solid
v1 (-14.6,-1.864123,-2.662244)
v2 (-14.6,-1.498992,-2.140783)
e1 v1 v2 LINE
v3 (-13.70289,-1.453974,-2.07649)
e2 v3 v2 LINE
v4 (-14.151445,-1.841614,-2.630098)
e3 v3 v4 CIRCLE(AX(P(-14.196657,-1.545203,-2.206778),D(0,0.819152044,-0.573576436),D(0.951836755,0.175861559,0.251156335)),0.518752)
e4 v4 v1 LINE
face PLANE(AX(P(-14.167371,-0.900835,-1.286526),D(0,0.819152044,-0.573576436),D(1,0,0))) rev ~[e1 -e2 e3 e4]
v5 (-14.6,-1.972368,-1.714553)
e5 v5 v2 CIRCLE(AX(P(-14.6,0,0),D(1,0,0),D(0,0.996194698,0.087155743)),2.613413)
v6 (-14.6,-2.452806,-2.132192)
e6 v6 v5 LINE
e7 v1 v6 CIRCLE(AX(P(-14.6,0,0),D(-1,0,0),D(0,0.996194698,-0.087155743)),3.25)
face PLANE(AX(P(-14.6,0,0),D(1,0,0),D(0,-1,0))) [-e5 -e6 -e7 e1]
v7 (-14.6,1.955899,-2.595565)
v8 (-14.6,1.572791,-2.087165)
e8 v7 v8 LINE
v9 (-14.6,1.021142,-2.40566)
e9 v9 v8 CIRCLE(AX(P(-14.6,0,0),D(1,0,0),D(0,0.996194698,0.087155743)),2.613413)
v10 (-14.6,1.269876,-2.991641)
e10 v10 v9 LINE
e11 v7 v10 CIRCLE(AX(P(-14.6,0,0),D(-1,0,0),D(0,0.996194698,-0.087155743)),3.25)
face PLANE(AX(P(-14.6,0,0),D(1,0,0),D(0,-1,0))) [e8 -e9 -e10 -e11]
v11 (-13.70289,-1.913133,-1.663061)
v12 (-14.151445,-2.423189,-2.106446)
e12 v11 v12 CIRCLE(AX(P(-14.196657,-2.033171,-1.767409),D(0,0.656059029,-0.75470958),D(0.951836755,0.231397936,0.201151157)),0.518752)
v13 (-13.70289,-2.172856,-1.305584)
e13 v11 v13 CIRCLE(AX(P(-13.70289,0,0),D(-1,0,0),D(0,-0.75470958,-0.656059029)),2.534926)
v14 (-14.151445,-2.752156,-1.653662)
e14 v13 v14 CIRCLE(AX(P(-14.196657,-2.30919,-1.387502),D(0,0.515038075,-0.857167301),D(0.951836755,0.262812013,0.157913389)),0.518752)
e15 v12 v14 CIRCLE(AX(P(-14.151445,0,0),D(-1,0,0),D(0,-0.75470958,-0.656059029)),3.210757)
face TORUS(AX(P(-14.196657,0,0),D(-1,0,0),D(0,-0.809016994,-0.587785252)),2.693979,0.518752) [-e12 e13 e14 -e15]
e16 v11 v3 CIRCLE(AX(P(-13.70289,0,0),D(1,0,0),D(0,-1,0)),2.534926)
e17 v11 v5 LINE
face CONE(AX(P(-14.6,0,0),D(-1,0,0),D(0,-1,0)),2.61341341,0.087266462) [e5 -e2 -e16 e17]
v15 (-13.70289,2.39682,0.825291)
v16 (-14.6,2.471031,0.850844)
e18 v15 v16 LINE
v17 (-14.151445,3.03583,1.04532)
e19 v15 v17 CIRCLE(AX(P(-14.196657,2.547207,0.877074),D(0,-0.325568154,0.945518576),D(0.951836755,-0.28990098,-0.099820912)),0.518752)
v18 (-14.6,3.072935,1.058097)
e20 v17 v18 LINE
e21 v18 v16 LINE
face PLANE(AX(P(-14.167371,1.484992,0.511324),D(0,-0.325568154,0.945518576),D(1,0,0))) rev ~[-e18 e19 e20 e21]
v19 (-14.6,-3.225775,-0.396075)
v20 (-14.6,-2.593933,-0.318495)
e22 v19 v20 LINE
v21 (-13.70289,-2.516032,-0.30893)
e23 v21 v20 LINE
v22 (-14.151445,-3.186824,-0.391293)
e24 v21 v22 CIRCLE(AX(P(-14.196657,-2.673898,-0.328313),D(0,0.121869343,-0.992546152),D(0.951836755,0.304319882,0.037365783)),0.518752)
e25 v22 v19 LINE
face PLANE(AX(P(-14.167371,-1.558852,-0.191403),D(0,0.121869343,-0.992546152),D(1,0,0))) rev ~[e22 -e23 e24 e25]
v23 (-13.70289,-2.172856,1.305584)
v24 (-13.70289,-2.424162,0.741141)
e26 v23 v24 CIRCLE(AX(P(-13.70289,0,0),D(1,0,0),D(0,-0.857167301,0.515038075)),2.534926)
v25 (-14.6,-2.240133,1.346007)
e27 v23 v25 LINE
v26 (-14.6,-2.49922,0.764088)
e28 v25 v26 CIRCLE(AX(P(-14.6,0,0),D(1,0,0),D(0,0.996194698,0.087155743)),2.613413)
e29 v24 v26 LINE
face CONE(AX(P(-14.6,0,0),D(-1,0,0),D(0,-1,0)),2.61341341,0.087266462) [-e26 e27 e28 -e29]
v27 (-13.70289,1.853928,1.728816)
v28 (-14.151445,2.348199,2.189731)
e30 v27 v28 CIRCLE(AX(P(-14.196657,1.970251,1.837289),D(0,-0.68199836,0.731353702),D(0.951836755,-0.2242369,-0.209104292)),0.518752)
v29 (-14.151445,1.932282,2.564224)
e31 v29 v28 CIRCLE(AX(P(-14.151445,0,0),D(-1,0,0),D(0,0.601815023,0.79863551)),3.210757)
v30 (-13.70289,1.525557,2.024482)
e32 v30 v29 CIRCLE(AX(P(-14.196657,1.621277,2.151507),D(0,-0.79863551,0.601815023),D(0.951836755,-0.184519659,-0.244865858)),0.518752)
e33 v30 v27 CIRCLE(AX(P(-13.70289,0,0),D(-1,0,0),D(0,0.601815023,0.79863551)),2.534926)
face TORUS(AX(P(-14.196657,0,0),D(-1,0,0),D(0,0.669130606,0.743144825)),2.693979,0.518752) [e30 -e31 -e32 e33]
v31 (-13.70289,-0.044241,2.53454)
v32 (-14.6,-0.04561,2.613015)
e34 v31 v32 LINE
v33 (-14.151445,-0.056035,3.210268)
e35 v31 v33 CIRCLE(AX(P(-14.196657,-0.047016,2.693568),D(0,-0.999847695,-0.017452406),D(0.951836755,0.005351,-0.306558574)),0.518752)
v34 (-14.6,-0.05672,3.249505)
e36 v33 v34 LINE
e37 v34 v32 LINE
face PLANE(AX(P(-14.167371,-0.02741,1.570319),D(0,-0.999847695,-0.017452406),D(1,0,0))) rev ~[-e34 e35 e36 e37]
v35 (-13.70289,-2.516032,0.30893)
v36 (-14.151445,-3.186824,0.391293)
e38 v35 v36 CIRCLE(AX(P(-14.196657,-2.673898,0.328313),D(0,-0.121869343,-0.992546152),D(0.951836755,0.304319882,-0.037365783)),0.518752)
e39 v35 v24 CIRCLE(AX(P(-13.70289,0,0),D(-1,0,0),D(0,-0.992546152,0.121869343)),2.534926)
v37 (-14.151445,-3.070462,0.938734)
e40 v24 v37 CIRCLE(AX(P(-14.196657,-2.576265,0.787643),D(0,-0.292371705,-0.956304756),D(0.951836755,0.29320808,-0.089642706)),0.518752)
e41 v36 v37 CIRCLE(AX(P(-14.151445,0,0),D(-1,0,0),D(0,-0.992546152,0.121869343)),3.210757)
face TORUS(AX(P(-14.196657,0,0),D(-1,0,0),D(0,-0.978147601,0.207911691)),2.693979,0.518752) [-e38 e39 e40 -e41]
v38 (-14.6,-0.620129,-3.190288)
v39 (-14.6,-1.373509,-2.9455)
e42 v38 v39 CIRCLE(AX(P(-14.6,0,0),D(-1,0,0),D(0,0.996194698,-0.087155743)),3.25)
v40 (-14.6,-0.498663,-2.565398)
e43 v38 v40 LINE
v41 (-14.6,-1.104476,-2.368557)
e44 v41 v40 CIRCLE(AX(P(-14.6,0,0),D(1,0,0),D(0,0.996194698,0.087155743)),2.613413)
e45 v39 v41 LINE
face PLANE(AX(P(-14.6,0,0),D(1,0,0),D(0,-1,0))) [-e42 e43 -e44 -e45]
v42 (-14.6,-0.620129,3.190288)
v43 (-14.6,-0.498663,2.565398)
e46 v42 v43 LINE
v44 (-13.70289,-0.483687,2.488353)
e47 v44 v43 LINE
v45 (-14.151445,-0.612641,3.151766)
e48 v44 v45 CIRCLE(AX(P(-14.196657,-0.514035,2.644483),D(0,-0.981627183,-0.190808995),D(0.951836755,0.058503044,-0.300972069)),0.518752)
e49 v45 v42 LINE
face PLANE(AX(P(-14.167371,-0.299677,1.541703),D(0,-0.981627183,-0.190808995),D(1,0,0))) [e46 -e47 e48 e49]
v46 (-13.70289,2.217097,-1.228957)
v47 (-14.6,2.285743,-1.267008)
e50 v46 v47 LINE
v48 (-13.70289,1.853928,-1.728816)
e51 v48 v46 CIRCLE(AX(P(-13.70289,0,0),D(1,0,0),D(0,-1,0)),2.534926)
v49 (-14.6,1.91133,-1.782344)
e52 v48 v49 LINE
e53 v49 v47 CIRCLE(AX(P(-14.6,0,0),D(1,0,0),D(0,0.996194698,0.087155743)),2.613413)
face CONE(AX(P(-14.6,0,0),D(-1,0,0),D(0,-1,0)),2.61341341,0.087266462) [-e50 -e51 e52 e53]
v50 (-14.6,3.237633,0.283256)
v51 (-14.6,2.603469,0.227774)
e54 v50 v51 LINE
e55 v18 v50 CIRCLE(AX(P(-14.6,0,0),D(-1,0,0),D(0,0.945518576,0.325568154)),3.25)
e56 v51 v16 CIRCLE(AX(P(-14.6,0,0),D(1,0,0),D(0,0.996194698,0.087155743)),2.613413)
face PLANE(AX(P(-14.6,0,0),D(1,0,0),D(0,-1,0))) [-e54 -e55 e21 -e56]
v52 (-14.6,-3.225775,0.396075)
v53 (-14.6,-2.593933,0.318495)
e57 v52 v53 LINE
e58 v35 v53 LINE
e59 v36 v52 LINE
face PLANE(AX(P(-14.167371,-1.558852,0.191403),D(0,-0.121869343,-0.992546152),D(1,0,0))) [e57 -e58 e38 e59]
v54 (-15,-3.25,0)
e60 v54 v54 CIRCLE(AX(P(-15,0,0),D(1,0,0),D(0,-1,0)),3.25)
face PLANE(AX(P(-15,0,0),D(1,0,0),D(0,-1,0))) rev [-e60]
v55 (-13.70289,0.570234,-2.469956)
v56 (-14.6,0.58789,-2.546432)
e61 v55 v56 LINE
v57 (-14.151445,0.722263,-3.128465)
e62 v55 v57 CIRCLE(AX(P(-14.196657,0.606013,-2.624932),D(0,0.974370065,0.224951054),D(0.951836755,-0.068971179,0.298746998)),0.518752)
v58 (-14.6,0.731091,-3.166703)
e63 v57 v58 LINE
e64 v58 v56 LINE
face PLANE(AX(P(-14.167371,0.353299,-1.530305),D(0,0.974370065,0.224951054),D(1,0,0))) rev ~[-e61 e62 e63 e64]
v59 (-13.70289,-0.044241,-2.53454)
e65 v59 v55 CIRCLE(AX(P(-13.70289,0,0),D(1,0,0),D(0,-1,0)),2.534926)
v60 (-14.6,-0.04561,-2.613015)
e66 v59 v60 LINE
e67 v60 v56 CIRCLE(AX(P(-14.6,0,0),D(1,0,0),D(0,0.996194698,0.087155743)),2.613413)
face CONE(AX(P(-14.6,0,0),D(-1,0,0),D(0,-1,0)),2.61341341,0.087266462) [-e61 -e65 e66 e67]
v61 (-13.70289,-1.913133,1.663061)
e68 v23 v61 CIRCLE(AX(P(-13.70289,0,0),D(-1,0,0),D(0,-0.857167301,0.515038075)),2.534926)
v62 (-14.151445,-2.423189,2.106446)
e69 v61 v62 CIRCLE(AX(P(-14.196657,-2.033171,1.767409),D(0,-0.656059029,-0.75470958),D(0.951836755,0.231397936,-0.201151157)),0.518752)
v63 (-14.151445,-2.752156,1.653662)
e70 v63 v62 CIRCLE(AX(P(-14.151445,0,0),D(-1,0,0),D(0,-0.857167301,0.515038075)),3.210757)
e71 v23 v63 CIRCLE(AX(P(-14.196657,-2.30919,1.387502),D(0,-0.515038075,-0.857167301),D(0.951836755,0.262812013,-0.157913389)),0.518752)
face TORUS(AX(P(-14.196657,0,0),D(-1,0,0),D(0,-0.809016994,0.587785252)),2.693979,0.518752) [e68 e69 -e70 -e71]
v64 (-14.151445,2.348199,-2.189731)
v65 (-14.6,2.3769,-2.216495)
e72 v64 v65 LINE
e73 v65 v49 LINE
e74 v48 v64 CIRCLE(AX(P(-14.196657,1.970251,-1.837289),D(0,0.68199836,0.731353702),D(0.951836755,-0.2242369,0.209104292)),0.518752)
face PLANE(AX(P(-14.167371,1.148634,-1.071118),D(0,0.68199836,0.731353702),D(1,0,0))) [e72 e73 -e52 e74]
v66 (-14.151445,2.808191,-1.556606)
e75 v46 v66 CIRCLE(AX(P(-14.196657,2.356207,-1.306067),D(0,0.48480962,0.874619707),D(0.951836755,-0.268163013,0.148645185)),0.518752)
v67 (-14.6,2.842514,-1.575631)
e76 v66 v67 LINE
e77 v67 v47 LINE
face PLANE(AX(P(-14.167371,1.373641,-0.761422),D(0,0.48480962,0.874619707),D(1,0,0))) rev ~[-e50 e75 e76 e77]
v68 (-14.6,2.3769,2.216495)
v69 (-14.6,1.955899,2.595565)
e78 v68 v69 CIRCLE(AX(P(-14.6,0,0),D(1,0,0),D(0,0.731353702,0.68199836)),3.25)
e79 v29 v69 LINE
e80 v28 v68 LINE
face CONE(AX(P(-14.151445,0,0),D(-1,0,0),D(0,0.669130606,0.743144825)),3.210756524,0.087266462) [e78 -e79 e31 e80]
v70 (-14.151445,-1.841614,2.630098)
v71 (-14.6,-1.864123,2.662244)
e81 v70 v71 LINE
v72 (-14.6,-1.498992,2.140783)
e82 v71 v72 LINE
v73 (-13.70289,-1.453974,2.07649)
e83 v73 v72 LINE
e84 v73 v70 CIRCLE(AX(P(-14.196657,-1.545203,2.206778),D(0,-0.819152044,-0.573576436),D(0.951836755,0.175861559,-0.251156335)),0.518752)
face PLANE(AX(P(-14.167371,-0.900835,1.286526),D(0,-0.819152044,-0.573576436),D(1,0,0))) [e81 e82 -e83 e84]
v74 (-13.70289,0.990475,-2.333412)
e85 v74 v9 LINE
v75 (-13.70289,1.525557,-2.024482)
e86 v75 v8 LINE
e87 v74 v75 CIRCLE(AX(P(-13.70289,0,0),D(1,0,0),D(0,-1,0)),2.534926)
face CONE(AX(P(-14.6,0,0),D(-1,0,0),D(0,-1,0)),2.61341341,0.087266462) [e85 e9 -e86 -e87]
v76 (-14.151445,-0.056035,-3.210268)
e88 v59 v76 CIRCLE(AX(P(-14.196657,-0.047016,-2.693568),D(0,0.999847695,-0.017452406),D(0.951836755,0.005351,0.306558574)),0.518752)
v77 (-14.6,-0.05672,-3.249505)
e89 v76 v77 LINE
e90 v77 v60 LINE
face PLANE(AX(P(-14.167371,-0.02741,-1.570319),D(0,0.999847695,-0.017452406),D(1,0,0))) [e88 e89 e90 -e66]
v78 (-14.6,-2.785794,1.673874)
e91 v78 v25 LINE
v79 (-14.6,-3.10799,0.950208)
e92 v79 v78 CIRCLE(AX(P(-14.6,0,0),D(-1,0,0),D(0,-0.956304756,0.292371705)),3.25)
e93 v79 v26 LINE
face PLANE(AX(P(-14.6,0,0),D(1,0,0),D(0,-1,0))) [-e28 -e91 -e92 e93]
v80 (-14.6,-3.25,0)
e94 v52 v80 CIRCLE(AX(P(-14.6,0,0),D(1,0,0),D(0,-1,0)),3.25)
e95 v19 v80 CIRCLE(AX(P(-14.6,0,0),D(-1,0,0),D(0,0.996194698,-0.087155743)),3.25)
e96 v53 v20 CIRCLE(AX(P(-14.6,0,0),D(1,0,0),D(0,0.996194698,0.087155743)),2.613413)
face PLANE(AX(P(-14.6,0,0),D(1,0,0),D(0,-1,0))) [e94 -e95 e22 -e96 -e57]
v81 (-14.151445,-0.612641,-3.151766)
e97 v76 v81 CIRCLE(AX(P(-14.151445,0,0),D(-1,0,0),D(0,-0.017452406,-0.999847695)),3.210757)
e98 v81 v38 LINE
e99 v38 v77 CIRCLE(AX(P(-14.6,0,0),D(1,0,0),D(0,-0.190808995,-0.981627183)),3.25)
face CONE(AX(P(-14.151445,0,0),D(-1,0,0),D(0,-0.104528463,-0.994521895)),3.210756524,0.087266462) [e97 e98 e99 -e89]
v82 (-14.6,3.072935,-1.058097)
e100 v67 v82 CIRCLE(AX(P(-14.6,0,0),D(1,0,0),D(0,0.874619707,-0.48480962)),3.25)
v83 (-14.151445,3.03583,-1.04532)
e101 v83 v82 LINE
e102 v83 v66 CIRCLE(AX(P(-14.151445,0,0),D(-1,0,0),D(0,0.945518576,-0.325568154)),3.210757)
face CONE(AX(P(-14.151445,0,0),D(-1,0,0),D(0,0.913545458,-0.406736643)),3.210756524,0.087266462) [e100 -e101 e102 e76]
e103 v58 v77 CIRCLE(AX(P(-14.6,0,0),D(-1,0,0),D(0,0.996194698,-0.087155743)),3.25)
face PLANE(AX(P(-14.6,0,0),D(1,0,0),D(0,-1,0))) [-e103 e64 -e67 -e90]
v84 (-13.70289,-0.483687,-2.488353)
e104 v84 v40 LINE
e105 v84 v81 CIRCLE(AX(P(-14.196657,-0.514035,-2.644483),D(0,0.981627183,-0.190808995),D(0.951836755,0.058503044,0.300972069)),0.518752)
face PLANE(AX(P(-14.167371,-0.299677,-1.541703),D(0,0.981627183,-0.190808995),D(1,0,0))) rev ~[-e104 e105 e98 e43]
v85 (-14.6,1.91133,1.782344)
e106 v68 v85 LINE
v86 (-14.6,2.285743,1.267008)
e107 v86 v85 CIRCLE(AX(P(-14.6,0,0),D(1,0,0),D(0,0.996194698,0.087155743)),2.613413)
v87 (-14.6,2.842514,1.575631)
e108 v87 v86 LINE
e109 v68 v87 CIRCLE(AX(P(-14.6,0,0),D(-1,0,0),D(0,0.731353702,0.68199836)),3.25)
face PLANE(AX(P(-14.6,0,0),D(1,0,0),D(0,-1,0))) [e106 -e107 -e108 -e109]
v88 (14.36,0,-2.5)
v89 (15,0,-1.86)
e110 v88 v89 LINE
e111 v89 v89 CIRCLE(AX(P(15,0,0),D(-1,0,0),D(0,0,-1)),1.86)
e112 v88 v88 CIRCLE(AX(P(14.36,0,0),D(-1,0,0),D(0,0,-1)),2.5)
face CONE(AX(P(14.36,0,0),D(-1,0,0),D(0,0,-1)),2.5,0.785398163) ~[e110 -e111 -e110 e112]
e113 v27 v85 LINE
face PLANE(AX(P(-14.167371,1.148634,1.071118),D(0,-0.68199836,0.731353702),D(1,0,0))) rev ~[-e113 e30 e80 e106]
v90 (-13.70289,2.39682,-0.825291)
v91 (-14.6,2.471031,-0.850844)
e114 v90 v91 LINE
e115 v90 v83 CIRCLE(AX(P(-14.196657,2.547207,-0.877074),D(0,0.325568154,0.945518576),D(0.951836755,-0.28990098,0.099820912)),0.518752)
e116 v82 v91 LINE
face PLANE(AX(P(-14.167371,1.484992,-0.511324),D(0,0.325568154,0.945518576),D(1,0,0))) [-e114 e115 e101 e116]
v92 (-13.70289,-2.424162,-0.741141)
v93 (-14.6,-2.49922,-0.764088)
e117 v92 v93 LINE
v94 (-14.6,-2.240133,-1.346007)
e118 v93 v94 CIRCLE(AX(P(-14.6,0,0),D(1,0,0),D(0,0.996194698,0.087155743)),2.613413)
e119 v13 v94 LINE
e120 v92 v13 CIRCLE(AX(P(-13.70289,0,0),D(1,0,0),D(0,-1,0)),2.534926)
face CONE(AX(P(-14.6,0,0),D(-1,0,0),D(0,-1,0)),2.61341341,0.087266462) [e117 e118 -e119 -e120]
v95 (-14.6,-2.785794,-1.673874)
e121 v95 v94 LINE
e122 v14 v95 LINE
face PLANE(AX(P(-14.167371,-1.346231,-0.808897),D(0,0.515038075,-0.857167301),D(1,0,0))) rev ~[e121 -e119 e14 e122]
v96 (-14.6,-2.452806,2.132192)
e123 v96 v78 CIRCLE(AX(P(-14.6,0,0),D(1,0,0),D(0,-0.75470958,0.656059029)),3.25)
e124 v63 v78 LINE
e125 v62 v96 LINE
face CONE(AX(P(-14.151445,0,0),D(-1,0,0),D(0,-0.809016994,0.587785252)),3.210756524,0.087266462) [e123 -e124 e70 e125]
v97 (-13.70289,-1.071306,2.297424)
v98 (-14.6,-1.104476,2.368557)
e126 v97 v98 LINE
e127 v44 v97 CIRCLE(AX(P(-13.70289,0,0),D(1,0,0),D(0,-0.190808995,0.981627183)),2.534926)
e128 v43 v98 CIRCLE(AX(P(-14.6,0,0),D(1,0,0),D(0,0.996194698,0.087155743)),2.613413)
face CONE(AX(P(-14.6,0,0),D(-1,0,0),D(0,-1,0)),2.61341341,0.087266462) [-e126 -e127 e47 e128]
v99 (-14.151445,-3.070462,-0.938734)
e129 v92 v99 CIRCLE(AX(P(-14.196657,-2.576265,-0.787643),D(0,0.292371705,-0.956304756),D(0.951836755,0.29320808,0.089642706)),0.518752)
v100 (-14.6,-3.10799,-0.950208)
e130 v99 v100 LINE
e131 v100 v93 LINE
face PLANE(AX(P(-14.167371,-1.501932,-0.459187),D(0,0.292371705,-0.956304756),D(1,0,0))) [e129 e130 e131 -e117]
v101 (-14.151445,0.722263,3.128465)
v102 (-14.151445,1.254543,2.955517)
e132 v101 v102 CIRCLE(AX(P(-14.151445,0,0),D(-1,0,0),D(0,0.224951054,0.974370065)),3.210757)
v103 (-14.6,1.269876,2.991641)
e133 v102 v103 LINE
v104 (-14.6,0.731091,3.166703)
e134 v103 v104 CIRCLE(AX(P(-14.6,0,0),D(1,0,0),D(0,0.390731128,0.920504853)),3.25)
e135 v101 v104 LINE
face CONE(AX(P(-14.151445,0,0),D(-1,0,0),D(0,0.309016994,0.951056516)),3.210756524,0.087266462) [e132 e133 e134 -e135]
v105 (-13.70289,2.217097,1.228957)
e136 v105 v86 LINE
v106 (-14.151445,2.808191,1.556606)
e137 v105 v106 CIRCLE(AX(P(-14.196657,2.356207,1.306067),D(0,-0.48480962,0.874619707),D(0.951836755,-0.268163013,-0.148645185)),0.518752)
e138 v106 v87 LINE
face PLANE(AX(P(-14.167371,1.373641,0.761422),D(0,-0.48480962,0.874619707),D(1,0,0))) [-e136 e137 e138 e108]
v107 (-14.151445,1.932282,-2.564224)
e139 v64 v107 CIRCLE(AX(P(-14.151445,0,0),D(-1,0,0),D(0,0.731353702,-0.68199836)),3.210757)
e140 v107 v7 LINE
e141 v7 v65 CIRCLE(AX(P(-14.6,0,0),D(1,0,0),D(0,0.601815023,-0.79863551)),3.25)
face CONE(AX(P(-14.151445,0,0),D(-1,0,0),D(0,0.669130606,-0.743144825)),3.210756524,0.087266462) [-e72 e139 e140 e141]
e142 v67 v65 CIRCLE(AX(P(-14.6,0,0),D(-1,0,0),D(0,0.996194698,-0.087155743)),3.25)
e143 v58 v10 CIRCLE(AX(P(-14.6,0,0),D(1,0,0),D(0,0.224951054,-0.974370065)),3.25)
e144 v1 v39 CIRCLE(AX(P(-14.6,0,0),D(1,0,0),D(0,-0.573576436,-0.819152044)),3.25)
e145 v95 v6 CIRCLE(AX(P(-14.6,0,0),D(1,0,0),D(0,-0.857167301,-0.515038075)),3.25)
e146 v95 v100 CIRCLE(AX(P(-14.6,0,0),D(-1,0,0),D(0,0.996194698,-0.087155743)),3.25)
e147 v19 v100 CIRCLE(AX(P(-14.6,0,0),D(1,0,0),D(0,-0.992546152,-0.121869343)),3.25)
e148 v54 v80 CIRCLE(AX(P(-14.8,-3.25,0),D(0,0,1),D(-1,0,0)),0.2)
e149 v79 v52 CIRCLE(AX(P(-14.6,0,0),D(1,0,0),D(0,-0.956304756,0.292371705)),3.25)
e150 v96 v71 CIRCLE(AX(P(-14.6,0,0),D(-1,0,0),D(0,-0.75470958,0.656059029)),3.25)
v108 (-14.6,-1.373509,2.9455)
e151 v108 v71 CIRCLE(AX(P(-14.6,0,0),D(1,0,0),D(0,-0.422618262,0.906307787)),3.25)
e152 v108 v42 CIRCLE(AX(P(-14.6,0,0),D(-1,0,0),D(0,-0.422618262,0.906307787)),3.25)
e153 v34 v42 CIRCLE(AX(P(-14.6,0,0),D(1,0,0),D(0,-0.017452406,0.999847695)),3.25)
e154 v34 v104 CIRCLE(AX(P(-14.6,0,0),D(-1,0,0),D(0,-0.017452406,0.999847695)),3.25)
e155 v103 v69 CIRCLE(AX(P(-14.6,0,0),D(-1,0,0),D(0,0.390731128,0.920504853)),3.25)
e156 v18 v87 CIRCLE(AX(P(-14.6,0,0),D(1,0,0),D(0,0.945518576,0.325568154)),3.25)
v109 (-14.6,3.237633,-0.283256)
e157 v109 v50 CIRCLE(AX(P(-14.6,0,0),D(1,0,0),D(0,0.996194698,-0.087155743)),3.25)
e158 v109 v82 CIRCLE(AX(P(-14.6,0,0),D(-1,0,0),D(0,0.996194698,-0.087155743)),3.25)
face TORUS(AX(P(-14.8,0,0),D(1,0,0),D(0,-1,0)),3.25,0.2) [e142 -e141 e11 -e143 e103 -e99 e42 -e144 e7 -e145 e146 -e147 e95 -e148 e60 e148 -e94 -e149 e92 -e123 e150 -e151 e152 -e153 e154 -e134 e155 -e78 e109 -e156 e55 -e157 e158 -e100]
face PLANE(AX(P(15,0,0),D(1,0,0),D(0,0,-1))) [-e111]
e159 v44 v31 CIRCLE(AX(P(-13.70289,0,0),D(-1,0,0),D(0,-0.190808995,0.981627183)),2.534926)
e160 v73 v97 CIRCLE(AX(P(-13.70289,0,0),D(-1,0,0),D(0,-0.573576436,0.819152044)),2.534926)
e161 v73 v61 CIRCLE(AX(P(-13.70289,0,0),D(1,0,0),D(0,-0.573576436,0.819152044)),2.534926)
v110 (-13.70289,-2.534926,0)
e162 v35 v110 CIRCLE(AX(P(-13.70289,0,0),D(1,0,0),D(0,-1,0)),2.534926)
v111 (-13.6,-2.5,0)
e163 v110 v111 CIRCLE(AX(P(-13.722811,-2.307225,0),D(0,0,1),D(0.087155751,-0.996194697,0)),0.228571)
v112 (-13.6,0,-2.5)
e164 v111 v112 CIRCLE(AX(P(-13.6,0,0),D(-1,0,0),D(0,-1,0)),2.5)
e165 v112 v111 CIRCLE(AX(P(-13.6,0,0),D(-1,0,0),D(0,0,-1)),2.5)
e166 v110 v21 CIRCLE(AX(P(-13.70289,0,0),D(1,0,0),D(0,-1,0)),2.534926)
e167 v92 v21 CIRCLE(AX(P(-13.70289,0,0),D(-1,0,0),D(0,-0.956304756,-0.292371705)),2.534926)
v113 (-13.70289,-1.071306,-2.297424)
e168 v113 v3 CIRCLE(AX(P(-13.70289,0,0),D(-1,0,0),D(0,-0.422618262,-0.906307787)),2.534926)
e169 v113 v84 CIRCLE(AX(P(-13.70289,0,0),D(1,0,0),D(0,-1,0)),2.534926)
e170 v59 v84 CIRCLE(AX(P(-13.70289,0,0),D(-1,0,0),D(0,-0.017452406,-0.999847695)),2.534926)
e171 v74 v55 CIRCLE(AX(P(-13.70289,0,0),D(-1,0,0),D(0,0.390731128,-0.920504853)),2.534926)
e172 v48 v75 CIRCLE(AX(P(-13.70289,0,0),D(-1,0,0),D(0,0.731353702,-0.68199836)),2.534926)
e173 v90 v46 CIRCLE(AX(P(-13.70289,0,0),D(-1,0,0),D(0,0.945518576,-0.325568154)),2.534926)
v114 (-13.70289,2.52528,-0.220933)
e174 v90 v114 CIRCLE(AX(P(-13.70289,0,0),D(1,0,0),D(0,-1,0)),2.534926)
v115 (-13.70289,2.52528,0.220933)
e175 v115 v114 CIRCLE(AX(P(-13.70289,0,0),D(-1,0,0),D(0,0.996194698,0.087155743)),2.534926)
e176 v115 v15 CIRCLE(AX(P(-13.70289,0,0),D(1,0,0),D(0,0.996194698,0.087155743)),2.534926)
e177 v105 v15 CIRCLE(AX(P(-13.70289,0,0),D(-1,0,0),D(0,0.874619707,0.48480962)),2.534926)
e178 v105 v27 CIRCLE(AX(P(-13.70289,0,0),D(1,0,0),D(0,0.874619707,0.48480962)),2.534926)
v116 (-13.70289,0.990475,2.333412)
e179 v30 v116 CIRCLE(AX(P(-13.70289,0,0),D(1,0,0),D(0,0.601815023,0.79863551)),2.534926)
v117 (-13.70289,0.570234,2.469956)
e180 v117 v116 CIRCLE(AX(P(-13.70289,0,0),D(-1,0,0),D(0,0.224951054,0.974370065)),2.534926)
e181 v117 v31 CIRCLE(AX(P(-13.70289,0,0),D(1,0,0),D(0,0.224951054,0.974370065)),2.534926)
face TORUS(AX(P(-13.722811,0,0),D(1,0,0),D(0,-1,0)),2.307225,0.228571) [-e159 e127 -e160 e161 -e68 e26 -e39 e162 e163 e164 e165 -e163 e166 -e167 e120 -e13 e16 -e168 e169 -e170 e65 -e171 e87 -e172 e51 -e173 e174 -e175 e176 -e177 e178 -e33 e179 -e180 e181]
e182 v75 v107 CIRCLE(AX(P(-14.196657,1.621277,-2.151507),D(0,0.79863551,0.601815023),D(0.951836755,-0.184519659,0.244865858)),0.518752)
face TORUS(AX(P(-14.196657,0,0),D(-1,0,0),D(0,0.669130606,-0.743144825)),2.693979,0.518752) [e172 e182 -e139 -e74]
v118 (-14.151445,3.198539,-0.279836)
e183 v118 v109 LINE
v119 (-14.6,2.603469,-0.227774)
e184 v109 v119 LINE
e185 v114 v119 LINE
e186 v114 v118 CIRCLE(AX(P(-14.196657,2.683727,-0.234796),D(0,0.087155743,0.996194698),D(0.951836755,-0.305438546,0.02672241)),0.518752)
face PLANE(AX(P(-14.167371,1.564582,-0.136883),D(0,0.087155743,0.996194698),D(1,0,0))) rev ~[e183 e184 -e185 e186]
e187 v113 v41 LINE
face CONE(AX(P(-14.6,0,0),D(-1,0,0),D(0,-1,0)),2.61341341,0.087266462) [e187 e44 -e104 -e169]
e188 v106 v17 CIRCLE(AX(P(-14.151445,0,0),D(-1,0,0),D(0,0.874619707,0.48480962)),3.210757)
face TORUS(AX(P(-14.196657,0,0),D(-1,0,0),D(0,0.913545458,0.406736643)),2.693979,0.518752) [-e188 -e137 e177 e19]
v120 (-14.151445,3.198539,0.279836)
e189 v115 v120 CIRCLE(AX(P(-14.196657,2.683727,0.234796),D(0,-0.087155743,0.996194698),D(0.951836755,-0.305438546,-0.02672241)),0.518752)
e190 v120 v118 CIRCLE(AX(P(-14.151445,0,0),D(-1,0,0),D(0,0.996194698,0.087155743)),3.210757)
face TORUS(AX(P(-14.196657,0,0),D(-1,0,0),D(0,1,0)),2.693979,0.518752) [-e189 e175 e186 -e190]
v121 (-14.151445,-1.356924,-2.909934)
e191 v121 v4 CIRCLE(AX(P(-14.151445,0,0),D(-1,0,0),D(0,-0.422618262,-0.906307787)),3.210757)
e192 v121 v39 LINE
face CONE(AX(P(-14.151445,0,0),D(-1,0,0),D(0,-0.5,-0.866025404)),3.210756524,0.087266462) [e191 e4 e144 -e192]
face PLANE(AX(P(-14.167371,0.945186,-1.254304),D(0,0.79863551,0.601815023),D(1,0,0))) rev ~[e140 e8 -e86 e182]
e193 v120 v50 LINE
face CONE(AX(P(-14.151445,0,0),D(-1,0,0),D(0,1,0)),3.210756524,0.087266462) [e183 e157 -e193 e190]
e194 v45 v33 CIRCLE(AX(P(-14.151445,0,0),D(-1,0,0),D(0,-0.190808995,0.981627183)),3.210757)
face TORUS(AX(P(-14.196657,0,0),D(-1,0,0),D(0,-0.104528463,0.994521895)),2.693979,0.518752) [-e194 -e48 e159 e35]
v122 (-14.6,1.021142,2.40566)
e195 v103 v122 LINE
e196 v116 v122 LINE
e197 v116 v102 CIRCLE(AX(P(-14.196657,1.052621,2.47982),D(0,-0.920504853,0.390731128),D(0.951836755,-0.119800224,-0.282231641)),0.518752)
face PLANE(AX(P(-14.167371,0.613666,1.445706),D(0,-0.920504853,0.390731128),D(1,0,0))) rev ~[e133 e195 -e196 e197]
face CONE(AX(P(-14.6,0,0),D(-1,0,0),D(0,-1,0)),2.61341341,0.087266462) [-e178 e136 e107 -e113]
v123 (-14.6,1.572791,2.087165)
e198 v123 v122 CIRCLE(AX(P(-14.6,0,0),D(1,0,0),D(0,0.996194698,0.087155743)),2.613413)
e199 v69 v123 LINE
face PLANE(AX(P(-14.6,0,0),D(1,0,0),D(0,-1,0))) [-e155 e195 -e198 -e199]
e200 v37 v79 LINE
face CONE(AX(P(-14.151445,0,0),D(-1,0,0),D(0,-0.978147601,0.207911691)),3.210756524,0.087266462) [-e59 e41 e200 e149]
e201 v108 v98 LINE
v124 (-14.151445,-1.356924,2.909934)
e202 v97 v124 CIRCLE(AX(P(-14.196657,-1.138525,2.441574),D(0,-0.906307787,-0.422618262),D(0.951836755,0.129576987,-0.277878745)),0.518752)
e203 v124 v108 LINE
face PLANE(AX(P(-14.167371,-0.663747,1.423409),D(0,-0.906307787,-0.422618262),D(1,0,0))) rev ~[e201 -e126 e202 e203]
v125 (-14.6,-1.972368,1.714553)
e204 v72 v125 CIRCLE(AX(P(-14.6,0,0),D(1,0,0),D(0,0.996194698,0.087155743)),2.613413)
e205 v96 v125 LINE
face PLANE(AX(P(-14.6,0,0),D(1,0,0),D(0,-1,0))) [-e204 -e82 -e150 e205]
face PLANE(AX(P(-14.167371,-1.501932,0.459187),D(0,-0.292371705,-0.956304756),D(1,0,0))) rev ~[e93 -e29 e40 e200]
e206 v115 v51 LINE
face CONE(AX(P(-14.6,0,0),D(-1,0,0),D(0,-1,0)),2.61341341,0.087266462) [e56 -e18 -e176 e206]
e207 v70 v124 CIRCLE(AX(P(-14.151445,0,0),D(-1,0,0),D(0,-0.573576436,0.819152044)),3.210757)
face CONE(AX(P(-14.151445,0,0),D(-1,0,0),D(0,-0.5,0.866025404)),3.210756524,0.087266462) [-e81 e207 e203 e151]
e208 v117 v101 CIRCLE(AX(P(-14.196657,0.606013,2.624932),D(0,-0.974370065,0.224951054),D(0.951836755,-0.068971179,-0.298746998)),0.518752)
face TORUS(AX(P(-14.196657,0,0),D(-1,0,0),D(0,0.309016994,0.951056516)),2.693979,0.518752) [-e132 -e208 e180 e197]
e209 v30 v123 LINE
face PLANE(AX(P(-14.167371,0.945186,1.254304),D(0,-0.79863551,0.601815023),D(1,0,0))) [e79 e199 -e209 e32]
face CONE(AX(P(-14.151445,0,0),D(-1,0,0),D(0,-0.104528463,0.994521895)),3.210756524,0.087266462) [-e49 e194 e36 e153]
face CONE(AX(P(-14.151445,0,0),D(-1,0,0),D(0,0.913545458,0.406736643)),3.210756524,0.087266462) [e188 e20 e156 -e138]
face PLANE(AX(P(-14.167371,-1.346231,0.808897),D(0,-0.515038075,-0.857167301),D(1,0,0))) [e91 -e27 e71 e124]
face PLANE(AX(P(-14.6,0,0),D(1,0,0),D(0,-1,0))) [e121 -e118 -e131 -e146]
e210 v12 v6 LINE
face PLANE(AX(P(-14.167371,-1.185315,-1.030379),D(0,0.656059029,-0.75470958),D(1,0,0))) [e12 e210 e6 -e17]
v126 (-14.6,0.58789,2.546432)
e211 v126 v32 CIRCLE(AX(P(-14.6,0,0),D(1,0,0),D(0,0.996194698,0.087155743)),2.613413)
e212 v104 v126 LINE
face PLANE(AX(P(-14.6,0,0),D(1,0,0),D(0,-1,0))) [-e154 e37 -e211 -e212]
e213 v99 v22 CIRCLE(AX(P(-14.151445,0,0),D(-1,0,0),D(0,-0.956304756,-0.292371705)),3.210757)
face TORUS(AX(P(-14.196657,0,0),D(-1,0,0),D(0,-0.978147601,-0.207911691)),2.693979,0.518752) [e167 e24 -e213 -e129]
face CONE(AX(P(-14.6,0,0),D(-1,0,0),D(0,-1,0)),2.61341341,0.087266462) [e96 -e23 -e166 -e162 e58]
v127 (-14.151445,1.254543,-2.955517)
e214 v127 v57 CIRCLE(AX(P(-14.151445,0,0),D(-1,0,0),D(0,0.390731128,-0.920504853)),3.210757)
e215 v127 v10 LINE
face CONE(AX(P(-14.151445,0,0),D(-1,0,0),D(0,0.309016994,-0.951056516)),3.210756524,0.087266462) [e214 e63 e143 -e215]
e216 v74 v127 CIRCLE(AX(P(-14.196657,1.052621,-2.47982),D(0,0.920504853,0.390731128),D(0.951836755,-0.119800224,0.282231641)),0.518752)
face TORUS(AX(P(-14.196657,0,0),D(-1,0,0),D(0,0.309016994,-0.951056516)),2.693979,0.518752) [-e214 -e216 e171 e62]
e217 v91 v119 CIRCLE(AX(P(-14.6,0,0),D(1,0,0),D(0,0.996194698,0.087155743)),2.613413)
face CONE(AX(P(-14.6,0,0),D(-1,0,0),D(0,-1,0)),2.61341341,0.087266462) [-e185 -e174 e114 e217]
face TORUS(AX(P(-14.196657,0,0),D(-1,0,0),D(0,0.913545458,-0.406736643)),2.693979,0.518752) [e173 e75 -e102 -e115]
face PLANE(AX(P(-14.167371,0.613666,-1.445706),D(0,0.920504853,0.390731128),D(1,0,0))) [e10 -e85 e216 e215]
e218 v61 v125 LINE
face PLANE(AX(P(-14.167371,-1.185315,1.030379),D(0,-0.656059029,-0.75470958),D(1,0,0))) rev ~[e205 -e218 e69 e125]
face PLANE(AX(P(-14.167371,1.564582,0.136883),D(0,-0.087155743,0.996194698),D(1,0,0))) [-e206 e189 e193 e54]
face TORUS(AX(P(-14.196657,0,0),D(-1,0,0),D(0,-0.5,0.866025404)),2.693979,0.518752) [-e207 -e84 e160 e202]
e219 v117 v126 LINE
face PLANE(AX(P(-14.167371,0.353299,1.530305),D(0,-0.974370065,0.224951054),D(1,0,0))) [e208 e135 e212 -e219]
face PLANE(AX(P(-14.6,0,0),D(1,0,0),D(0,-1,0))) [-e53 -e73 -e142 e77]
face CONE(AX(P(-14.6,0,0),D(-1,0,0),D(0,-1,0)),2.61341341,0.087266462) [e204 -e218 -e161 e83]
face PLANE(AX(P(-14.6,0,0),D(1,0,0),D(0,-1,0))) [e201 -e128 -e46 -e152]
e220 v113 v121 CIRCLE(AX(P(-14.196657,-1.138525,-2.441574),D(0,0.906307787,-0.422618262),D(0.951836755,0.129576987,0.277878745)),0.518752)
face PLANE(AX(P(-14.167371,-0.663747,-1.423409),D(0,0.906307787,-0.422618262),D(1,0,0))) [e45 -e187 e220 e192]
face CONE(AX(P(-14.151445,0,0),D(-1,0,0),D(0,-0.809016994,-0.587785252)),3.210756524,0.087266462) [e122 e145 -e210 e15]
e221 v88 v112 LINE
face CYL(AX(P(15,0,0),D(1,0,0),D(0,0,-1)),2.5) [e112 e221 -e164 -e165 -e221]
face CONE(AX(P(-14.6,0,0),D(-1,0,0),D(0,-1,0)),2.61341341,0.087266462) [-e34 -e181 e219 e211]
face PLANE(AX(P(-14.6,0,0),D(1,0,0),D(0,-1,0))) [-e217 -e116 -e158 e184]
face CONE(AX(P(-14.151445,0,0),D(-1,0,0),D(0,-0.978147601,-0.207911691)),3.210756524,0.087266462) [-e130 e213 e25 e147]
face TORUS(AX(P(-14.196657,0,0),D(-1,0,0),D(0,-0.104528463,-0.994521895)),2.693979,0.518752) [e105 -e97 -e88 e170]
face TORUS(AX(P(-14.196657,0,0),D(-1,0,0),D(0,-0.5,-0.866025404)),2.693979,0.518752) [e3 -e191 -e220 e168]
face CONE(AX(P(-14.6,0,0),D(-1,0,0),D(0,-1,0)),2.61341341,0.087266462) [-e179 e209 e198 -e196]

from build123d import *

# Parameters (mm, degrees)
BOSS_EXTRUDE1_START = 15
SKETCH2_R           = 2.5
BOSS_EXTRUDE1_DEPTH = 30
REVOLVE2_ANGLE      = 10
CIRPATTERN1_COUNT   = 15
CHAMFER1_SIZE       = 0.64


with BuildPart() as part:
    # Sketch2 → Boss-Extrude1 (new body)
    with BuildSketch(Plane(origin=(0, 0, 0), x_dir=(0, 0, -1), z_dir=(1, 0, 0)).offset(BOSS_EXTRUDE1_START)):
        Circle(SKETCH2_R)
    extrude(amount=-BOSS_EXTRUDE1_DEPTH)

    # Sketch5 → Revolve1 (revolve)
    with BuildSketch(Plane.XY, mode=Mode.PRIVATE) as revolve1_sk:
        with BuildLine():
            Line((-15, 0), (-15, 3.25))
            ThreePointArc((-15, 3.25), (-14.8, 3.45), (-14.6, 3.25))
            Line((-14.6, 3.25), (-14.6, 2.61341341))
            Line((-14.6, 2.61341341), (-13.702890026, 2.534926458))
            ThreePointArc((-13.702890026, 2.534926458), (-13.6, 2.5), (-13.524862675, 2.421510527))
            Line((-13.524862675, 2.421510527), (-12.126802921, 0))
            Line((-12.126802921, 0), (-15, 0))
        make_face()
    revolve(revolve1_sk.sketch.rotate(Axis((-15, 0, 0), (1, 0, 0)), 180), axis=Axis((-15, 0, 0), (1, 0, 0)))

    # Sketch6 → Revolve2 (revolve, symmetric)
    with BuildSketch(Plane.XY) as revolve2_sk:
        with BuildLine():
            Line((-14.6, 3.25), (-14.6, 0))
            Line((-14.6, 0), (-13.702890026, 0))
            Line((-13.702890026, 0), (-13.702890026, 2.534926458))
            ThreePointArc((-13.702890026, 2.534926458), (-13.764440532, 2.980844975), (-14.151445013, 3.210756524))
            Line((-14.151445013, 3.210756524), (-14.6, 3.25))
        make_face()
    revolve(axis=Axis((-14.6, 0, 0), (1, 0, 0)), revolution_arc=REVOLVE2_ANGLE / 2)
    revolve(revolve2_sk.sketch, axis=Axis((-14.6, 0, 0), (-1, 0, 0)), revolution_arc=REVOLVE2_ANGLE / 2)

    # CirPattern1: part ×15 about axis
    cirpattern1_axis = Axis((0, 0, 0), (1, 0, 0))


with BuildPart() as part_1:
    add(part.part)
    for i in range(1, CIRPATTERN1_COUNT):
        add(part.part.rotate(cirpattern1_axis, i * 360 / CIRPATTERN1_COUNT))

    # Chamfer1
    chamfer1_edges = [part_1.edges().sort_by_distance(p)[0] for p in [
        (15, 0, 2.5),
    ]]
    chamfer(chamfer1_edges, length=CHAMFER1_SIZE)


solid = part_1.part
